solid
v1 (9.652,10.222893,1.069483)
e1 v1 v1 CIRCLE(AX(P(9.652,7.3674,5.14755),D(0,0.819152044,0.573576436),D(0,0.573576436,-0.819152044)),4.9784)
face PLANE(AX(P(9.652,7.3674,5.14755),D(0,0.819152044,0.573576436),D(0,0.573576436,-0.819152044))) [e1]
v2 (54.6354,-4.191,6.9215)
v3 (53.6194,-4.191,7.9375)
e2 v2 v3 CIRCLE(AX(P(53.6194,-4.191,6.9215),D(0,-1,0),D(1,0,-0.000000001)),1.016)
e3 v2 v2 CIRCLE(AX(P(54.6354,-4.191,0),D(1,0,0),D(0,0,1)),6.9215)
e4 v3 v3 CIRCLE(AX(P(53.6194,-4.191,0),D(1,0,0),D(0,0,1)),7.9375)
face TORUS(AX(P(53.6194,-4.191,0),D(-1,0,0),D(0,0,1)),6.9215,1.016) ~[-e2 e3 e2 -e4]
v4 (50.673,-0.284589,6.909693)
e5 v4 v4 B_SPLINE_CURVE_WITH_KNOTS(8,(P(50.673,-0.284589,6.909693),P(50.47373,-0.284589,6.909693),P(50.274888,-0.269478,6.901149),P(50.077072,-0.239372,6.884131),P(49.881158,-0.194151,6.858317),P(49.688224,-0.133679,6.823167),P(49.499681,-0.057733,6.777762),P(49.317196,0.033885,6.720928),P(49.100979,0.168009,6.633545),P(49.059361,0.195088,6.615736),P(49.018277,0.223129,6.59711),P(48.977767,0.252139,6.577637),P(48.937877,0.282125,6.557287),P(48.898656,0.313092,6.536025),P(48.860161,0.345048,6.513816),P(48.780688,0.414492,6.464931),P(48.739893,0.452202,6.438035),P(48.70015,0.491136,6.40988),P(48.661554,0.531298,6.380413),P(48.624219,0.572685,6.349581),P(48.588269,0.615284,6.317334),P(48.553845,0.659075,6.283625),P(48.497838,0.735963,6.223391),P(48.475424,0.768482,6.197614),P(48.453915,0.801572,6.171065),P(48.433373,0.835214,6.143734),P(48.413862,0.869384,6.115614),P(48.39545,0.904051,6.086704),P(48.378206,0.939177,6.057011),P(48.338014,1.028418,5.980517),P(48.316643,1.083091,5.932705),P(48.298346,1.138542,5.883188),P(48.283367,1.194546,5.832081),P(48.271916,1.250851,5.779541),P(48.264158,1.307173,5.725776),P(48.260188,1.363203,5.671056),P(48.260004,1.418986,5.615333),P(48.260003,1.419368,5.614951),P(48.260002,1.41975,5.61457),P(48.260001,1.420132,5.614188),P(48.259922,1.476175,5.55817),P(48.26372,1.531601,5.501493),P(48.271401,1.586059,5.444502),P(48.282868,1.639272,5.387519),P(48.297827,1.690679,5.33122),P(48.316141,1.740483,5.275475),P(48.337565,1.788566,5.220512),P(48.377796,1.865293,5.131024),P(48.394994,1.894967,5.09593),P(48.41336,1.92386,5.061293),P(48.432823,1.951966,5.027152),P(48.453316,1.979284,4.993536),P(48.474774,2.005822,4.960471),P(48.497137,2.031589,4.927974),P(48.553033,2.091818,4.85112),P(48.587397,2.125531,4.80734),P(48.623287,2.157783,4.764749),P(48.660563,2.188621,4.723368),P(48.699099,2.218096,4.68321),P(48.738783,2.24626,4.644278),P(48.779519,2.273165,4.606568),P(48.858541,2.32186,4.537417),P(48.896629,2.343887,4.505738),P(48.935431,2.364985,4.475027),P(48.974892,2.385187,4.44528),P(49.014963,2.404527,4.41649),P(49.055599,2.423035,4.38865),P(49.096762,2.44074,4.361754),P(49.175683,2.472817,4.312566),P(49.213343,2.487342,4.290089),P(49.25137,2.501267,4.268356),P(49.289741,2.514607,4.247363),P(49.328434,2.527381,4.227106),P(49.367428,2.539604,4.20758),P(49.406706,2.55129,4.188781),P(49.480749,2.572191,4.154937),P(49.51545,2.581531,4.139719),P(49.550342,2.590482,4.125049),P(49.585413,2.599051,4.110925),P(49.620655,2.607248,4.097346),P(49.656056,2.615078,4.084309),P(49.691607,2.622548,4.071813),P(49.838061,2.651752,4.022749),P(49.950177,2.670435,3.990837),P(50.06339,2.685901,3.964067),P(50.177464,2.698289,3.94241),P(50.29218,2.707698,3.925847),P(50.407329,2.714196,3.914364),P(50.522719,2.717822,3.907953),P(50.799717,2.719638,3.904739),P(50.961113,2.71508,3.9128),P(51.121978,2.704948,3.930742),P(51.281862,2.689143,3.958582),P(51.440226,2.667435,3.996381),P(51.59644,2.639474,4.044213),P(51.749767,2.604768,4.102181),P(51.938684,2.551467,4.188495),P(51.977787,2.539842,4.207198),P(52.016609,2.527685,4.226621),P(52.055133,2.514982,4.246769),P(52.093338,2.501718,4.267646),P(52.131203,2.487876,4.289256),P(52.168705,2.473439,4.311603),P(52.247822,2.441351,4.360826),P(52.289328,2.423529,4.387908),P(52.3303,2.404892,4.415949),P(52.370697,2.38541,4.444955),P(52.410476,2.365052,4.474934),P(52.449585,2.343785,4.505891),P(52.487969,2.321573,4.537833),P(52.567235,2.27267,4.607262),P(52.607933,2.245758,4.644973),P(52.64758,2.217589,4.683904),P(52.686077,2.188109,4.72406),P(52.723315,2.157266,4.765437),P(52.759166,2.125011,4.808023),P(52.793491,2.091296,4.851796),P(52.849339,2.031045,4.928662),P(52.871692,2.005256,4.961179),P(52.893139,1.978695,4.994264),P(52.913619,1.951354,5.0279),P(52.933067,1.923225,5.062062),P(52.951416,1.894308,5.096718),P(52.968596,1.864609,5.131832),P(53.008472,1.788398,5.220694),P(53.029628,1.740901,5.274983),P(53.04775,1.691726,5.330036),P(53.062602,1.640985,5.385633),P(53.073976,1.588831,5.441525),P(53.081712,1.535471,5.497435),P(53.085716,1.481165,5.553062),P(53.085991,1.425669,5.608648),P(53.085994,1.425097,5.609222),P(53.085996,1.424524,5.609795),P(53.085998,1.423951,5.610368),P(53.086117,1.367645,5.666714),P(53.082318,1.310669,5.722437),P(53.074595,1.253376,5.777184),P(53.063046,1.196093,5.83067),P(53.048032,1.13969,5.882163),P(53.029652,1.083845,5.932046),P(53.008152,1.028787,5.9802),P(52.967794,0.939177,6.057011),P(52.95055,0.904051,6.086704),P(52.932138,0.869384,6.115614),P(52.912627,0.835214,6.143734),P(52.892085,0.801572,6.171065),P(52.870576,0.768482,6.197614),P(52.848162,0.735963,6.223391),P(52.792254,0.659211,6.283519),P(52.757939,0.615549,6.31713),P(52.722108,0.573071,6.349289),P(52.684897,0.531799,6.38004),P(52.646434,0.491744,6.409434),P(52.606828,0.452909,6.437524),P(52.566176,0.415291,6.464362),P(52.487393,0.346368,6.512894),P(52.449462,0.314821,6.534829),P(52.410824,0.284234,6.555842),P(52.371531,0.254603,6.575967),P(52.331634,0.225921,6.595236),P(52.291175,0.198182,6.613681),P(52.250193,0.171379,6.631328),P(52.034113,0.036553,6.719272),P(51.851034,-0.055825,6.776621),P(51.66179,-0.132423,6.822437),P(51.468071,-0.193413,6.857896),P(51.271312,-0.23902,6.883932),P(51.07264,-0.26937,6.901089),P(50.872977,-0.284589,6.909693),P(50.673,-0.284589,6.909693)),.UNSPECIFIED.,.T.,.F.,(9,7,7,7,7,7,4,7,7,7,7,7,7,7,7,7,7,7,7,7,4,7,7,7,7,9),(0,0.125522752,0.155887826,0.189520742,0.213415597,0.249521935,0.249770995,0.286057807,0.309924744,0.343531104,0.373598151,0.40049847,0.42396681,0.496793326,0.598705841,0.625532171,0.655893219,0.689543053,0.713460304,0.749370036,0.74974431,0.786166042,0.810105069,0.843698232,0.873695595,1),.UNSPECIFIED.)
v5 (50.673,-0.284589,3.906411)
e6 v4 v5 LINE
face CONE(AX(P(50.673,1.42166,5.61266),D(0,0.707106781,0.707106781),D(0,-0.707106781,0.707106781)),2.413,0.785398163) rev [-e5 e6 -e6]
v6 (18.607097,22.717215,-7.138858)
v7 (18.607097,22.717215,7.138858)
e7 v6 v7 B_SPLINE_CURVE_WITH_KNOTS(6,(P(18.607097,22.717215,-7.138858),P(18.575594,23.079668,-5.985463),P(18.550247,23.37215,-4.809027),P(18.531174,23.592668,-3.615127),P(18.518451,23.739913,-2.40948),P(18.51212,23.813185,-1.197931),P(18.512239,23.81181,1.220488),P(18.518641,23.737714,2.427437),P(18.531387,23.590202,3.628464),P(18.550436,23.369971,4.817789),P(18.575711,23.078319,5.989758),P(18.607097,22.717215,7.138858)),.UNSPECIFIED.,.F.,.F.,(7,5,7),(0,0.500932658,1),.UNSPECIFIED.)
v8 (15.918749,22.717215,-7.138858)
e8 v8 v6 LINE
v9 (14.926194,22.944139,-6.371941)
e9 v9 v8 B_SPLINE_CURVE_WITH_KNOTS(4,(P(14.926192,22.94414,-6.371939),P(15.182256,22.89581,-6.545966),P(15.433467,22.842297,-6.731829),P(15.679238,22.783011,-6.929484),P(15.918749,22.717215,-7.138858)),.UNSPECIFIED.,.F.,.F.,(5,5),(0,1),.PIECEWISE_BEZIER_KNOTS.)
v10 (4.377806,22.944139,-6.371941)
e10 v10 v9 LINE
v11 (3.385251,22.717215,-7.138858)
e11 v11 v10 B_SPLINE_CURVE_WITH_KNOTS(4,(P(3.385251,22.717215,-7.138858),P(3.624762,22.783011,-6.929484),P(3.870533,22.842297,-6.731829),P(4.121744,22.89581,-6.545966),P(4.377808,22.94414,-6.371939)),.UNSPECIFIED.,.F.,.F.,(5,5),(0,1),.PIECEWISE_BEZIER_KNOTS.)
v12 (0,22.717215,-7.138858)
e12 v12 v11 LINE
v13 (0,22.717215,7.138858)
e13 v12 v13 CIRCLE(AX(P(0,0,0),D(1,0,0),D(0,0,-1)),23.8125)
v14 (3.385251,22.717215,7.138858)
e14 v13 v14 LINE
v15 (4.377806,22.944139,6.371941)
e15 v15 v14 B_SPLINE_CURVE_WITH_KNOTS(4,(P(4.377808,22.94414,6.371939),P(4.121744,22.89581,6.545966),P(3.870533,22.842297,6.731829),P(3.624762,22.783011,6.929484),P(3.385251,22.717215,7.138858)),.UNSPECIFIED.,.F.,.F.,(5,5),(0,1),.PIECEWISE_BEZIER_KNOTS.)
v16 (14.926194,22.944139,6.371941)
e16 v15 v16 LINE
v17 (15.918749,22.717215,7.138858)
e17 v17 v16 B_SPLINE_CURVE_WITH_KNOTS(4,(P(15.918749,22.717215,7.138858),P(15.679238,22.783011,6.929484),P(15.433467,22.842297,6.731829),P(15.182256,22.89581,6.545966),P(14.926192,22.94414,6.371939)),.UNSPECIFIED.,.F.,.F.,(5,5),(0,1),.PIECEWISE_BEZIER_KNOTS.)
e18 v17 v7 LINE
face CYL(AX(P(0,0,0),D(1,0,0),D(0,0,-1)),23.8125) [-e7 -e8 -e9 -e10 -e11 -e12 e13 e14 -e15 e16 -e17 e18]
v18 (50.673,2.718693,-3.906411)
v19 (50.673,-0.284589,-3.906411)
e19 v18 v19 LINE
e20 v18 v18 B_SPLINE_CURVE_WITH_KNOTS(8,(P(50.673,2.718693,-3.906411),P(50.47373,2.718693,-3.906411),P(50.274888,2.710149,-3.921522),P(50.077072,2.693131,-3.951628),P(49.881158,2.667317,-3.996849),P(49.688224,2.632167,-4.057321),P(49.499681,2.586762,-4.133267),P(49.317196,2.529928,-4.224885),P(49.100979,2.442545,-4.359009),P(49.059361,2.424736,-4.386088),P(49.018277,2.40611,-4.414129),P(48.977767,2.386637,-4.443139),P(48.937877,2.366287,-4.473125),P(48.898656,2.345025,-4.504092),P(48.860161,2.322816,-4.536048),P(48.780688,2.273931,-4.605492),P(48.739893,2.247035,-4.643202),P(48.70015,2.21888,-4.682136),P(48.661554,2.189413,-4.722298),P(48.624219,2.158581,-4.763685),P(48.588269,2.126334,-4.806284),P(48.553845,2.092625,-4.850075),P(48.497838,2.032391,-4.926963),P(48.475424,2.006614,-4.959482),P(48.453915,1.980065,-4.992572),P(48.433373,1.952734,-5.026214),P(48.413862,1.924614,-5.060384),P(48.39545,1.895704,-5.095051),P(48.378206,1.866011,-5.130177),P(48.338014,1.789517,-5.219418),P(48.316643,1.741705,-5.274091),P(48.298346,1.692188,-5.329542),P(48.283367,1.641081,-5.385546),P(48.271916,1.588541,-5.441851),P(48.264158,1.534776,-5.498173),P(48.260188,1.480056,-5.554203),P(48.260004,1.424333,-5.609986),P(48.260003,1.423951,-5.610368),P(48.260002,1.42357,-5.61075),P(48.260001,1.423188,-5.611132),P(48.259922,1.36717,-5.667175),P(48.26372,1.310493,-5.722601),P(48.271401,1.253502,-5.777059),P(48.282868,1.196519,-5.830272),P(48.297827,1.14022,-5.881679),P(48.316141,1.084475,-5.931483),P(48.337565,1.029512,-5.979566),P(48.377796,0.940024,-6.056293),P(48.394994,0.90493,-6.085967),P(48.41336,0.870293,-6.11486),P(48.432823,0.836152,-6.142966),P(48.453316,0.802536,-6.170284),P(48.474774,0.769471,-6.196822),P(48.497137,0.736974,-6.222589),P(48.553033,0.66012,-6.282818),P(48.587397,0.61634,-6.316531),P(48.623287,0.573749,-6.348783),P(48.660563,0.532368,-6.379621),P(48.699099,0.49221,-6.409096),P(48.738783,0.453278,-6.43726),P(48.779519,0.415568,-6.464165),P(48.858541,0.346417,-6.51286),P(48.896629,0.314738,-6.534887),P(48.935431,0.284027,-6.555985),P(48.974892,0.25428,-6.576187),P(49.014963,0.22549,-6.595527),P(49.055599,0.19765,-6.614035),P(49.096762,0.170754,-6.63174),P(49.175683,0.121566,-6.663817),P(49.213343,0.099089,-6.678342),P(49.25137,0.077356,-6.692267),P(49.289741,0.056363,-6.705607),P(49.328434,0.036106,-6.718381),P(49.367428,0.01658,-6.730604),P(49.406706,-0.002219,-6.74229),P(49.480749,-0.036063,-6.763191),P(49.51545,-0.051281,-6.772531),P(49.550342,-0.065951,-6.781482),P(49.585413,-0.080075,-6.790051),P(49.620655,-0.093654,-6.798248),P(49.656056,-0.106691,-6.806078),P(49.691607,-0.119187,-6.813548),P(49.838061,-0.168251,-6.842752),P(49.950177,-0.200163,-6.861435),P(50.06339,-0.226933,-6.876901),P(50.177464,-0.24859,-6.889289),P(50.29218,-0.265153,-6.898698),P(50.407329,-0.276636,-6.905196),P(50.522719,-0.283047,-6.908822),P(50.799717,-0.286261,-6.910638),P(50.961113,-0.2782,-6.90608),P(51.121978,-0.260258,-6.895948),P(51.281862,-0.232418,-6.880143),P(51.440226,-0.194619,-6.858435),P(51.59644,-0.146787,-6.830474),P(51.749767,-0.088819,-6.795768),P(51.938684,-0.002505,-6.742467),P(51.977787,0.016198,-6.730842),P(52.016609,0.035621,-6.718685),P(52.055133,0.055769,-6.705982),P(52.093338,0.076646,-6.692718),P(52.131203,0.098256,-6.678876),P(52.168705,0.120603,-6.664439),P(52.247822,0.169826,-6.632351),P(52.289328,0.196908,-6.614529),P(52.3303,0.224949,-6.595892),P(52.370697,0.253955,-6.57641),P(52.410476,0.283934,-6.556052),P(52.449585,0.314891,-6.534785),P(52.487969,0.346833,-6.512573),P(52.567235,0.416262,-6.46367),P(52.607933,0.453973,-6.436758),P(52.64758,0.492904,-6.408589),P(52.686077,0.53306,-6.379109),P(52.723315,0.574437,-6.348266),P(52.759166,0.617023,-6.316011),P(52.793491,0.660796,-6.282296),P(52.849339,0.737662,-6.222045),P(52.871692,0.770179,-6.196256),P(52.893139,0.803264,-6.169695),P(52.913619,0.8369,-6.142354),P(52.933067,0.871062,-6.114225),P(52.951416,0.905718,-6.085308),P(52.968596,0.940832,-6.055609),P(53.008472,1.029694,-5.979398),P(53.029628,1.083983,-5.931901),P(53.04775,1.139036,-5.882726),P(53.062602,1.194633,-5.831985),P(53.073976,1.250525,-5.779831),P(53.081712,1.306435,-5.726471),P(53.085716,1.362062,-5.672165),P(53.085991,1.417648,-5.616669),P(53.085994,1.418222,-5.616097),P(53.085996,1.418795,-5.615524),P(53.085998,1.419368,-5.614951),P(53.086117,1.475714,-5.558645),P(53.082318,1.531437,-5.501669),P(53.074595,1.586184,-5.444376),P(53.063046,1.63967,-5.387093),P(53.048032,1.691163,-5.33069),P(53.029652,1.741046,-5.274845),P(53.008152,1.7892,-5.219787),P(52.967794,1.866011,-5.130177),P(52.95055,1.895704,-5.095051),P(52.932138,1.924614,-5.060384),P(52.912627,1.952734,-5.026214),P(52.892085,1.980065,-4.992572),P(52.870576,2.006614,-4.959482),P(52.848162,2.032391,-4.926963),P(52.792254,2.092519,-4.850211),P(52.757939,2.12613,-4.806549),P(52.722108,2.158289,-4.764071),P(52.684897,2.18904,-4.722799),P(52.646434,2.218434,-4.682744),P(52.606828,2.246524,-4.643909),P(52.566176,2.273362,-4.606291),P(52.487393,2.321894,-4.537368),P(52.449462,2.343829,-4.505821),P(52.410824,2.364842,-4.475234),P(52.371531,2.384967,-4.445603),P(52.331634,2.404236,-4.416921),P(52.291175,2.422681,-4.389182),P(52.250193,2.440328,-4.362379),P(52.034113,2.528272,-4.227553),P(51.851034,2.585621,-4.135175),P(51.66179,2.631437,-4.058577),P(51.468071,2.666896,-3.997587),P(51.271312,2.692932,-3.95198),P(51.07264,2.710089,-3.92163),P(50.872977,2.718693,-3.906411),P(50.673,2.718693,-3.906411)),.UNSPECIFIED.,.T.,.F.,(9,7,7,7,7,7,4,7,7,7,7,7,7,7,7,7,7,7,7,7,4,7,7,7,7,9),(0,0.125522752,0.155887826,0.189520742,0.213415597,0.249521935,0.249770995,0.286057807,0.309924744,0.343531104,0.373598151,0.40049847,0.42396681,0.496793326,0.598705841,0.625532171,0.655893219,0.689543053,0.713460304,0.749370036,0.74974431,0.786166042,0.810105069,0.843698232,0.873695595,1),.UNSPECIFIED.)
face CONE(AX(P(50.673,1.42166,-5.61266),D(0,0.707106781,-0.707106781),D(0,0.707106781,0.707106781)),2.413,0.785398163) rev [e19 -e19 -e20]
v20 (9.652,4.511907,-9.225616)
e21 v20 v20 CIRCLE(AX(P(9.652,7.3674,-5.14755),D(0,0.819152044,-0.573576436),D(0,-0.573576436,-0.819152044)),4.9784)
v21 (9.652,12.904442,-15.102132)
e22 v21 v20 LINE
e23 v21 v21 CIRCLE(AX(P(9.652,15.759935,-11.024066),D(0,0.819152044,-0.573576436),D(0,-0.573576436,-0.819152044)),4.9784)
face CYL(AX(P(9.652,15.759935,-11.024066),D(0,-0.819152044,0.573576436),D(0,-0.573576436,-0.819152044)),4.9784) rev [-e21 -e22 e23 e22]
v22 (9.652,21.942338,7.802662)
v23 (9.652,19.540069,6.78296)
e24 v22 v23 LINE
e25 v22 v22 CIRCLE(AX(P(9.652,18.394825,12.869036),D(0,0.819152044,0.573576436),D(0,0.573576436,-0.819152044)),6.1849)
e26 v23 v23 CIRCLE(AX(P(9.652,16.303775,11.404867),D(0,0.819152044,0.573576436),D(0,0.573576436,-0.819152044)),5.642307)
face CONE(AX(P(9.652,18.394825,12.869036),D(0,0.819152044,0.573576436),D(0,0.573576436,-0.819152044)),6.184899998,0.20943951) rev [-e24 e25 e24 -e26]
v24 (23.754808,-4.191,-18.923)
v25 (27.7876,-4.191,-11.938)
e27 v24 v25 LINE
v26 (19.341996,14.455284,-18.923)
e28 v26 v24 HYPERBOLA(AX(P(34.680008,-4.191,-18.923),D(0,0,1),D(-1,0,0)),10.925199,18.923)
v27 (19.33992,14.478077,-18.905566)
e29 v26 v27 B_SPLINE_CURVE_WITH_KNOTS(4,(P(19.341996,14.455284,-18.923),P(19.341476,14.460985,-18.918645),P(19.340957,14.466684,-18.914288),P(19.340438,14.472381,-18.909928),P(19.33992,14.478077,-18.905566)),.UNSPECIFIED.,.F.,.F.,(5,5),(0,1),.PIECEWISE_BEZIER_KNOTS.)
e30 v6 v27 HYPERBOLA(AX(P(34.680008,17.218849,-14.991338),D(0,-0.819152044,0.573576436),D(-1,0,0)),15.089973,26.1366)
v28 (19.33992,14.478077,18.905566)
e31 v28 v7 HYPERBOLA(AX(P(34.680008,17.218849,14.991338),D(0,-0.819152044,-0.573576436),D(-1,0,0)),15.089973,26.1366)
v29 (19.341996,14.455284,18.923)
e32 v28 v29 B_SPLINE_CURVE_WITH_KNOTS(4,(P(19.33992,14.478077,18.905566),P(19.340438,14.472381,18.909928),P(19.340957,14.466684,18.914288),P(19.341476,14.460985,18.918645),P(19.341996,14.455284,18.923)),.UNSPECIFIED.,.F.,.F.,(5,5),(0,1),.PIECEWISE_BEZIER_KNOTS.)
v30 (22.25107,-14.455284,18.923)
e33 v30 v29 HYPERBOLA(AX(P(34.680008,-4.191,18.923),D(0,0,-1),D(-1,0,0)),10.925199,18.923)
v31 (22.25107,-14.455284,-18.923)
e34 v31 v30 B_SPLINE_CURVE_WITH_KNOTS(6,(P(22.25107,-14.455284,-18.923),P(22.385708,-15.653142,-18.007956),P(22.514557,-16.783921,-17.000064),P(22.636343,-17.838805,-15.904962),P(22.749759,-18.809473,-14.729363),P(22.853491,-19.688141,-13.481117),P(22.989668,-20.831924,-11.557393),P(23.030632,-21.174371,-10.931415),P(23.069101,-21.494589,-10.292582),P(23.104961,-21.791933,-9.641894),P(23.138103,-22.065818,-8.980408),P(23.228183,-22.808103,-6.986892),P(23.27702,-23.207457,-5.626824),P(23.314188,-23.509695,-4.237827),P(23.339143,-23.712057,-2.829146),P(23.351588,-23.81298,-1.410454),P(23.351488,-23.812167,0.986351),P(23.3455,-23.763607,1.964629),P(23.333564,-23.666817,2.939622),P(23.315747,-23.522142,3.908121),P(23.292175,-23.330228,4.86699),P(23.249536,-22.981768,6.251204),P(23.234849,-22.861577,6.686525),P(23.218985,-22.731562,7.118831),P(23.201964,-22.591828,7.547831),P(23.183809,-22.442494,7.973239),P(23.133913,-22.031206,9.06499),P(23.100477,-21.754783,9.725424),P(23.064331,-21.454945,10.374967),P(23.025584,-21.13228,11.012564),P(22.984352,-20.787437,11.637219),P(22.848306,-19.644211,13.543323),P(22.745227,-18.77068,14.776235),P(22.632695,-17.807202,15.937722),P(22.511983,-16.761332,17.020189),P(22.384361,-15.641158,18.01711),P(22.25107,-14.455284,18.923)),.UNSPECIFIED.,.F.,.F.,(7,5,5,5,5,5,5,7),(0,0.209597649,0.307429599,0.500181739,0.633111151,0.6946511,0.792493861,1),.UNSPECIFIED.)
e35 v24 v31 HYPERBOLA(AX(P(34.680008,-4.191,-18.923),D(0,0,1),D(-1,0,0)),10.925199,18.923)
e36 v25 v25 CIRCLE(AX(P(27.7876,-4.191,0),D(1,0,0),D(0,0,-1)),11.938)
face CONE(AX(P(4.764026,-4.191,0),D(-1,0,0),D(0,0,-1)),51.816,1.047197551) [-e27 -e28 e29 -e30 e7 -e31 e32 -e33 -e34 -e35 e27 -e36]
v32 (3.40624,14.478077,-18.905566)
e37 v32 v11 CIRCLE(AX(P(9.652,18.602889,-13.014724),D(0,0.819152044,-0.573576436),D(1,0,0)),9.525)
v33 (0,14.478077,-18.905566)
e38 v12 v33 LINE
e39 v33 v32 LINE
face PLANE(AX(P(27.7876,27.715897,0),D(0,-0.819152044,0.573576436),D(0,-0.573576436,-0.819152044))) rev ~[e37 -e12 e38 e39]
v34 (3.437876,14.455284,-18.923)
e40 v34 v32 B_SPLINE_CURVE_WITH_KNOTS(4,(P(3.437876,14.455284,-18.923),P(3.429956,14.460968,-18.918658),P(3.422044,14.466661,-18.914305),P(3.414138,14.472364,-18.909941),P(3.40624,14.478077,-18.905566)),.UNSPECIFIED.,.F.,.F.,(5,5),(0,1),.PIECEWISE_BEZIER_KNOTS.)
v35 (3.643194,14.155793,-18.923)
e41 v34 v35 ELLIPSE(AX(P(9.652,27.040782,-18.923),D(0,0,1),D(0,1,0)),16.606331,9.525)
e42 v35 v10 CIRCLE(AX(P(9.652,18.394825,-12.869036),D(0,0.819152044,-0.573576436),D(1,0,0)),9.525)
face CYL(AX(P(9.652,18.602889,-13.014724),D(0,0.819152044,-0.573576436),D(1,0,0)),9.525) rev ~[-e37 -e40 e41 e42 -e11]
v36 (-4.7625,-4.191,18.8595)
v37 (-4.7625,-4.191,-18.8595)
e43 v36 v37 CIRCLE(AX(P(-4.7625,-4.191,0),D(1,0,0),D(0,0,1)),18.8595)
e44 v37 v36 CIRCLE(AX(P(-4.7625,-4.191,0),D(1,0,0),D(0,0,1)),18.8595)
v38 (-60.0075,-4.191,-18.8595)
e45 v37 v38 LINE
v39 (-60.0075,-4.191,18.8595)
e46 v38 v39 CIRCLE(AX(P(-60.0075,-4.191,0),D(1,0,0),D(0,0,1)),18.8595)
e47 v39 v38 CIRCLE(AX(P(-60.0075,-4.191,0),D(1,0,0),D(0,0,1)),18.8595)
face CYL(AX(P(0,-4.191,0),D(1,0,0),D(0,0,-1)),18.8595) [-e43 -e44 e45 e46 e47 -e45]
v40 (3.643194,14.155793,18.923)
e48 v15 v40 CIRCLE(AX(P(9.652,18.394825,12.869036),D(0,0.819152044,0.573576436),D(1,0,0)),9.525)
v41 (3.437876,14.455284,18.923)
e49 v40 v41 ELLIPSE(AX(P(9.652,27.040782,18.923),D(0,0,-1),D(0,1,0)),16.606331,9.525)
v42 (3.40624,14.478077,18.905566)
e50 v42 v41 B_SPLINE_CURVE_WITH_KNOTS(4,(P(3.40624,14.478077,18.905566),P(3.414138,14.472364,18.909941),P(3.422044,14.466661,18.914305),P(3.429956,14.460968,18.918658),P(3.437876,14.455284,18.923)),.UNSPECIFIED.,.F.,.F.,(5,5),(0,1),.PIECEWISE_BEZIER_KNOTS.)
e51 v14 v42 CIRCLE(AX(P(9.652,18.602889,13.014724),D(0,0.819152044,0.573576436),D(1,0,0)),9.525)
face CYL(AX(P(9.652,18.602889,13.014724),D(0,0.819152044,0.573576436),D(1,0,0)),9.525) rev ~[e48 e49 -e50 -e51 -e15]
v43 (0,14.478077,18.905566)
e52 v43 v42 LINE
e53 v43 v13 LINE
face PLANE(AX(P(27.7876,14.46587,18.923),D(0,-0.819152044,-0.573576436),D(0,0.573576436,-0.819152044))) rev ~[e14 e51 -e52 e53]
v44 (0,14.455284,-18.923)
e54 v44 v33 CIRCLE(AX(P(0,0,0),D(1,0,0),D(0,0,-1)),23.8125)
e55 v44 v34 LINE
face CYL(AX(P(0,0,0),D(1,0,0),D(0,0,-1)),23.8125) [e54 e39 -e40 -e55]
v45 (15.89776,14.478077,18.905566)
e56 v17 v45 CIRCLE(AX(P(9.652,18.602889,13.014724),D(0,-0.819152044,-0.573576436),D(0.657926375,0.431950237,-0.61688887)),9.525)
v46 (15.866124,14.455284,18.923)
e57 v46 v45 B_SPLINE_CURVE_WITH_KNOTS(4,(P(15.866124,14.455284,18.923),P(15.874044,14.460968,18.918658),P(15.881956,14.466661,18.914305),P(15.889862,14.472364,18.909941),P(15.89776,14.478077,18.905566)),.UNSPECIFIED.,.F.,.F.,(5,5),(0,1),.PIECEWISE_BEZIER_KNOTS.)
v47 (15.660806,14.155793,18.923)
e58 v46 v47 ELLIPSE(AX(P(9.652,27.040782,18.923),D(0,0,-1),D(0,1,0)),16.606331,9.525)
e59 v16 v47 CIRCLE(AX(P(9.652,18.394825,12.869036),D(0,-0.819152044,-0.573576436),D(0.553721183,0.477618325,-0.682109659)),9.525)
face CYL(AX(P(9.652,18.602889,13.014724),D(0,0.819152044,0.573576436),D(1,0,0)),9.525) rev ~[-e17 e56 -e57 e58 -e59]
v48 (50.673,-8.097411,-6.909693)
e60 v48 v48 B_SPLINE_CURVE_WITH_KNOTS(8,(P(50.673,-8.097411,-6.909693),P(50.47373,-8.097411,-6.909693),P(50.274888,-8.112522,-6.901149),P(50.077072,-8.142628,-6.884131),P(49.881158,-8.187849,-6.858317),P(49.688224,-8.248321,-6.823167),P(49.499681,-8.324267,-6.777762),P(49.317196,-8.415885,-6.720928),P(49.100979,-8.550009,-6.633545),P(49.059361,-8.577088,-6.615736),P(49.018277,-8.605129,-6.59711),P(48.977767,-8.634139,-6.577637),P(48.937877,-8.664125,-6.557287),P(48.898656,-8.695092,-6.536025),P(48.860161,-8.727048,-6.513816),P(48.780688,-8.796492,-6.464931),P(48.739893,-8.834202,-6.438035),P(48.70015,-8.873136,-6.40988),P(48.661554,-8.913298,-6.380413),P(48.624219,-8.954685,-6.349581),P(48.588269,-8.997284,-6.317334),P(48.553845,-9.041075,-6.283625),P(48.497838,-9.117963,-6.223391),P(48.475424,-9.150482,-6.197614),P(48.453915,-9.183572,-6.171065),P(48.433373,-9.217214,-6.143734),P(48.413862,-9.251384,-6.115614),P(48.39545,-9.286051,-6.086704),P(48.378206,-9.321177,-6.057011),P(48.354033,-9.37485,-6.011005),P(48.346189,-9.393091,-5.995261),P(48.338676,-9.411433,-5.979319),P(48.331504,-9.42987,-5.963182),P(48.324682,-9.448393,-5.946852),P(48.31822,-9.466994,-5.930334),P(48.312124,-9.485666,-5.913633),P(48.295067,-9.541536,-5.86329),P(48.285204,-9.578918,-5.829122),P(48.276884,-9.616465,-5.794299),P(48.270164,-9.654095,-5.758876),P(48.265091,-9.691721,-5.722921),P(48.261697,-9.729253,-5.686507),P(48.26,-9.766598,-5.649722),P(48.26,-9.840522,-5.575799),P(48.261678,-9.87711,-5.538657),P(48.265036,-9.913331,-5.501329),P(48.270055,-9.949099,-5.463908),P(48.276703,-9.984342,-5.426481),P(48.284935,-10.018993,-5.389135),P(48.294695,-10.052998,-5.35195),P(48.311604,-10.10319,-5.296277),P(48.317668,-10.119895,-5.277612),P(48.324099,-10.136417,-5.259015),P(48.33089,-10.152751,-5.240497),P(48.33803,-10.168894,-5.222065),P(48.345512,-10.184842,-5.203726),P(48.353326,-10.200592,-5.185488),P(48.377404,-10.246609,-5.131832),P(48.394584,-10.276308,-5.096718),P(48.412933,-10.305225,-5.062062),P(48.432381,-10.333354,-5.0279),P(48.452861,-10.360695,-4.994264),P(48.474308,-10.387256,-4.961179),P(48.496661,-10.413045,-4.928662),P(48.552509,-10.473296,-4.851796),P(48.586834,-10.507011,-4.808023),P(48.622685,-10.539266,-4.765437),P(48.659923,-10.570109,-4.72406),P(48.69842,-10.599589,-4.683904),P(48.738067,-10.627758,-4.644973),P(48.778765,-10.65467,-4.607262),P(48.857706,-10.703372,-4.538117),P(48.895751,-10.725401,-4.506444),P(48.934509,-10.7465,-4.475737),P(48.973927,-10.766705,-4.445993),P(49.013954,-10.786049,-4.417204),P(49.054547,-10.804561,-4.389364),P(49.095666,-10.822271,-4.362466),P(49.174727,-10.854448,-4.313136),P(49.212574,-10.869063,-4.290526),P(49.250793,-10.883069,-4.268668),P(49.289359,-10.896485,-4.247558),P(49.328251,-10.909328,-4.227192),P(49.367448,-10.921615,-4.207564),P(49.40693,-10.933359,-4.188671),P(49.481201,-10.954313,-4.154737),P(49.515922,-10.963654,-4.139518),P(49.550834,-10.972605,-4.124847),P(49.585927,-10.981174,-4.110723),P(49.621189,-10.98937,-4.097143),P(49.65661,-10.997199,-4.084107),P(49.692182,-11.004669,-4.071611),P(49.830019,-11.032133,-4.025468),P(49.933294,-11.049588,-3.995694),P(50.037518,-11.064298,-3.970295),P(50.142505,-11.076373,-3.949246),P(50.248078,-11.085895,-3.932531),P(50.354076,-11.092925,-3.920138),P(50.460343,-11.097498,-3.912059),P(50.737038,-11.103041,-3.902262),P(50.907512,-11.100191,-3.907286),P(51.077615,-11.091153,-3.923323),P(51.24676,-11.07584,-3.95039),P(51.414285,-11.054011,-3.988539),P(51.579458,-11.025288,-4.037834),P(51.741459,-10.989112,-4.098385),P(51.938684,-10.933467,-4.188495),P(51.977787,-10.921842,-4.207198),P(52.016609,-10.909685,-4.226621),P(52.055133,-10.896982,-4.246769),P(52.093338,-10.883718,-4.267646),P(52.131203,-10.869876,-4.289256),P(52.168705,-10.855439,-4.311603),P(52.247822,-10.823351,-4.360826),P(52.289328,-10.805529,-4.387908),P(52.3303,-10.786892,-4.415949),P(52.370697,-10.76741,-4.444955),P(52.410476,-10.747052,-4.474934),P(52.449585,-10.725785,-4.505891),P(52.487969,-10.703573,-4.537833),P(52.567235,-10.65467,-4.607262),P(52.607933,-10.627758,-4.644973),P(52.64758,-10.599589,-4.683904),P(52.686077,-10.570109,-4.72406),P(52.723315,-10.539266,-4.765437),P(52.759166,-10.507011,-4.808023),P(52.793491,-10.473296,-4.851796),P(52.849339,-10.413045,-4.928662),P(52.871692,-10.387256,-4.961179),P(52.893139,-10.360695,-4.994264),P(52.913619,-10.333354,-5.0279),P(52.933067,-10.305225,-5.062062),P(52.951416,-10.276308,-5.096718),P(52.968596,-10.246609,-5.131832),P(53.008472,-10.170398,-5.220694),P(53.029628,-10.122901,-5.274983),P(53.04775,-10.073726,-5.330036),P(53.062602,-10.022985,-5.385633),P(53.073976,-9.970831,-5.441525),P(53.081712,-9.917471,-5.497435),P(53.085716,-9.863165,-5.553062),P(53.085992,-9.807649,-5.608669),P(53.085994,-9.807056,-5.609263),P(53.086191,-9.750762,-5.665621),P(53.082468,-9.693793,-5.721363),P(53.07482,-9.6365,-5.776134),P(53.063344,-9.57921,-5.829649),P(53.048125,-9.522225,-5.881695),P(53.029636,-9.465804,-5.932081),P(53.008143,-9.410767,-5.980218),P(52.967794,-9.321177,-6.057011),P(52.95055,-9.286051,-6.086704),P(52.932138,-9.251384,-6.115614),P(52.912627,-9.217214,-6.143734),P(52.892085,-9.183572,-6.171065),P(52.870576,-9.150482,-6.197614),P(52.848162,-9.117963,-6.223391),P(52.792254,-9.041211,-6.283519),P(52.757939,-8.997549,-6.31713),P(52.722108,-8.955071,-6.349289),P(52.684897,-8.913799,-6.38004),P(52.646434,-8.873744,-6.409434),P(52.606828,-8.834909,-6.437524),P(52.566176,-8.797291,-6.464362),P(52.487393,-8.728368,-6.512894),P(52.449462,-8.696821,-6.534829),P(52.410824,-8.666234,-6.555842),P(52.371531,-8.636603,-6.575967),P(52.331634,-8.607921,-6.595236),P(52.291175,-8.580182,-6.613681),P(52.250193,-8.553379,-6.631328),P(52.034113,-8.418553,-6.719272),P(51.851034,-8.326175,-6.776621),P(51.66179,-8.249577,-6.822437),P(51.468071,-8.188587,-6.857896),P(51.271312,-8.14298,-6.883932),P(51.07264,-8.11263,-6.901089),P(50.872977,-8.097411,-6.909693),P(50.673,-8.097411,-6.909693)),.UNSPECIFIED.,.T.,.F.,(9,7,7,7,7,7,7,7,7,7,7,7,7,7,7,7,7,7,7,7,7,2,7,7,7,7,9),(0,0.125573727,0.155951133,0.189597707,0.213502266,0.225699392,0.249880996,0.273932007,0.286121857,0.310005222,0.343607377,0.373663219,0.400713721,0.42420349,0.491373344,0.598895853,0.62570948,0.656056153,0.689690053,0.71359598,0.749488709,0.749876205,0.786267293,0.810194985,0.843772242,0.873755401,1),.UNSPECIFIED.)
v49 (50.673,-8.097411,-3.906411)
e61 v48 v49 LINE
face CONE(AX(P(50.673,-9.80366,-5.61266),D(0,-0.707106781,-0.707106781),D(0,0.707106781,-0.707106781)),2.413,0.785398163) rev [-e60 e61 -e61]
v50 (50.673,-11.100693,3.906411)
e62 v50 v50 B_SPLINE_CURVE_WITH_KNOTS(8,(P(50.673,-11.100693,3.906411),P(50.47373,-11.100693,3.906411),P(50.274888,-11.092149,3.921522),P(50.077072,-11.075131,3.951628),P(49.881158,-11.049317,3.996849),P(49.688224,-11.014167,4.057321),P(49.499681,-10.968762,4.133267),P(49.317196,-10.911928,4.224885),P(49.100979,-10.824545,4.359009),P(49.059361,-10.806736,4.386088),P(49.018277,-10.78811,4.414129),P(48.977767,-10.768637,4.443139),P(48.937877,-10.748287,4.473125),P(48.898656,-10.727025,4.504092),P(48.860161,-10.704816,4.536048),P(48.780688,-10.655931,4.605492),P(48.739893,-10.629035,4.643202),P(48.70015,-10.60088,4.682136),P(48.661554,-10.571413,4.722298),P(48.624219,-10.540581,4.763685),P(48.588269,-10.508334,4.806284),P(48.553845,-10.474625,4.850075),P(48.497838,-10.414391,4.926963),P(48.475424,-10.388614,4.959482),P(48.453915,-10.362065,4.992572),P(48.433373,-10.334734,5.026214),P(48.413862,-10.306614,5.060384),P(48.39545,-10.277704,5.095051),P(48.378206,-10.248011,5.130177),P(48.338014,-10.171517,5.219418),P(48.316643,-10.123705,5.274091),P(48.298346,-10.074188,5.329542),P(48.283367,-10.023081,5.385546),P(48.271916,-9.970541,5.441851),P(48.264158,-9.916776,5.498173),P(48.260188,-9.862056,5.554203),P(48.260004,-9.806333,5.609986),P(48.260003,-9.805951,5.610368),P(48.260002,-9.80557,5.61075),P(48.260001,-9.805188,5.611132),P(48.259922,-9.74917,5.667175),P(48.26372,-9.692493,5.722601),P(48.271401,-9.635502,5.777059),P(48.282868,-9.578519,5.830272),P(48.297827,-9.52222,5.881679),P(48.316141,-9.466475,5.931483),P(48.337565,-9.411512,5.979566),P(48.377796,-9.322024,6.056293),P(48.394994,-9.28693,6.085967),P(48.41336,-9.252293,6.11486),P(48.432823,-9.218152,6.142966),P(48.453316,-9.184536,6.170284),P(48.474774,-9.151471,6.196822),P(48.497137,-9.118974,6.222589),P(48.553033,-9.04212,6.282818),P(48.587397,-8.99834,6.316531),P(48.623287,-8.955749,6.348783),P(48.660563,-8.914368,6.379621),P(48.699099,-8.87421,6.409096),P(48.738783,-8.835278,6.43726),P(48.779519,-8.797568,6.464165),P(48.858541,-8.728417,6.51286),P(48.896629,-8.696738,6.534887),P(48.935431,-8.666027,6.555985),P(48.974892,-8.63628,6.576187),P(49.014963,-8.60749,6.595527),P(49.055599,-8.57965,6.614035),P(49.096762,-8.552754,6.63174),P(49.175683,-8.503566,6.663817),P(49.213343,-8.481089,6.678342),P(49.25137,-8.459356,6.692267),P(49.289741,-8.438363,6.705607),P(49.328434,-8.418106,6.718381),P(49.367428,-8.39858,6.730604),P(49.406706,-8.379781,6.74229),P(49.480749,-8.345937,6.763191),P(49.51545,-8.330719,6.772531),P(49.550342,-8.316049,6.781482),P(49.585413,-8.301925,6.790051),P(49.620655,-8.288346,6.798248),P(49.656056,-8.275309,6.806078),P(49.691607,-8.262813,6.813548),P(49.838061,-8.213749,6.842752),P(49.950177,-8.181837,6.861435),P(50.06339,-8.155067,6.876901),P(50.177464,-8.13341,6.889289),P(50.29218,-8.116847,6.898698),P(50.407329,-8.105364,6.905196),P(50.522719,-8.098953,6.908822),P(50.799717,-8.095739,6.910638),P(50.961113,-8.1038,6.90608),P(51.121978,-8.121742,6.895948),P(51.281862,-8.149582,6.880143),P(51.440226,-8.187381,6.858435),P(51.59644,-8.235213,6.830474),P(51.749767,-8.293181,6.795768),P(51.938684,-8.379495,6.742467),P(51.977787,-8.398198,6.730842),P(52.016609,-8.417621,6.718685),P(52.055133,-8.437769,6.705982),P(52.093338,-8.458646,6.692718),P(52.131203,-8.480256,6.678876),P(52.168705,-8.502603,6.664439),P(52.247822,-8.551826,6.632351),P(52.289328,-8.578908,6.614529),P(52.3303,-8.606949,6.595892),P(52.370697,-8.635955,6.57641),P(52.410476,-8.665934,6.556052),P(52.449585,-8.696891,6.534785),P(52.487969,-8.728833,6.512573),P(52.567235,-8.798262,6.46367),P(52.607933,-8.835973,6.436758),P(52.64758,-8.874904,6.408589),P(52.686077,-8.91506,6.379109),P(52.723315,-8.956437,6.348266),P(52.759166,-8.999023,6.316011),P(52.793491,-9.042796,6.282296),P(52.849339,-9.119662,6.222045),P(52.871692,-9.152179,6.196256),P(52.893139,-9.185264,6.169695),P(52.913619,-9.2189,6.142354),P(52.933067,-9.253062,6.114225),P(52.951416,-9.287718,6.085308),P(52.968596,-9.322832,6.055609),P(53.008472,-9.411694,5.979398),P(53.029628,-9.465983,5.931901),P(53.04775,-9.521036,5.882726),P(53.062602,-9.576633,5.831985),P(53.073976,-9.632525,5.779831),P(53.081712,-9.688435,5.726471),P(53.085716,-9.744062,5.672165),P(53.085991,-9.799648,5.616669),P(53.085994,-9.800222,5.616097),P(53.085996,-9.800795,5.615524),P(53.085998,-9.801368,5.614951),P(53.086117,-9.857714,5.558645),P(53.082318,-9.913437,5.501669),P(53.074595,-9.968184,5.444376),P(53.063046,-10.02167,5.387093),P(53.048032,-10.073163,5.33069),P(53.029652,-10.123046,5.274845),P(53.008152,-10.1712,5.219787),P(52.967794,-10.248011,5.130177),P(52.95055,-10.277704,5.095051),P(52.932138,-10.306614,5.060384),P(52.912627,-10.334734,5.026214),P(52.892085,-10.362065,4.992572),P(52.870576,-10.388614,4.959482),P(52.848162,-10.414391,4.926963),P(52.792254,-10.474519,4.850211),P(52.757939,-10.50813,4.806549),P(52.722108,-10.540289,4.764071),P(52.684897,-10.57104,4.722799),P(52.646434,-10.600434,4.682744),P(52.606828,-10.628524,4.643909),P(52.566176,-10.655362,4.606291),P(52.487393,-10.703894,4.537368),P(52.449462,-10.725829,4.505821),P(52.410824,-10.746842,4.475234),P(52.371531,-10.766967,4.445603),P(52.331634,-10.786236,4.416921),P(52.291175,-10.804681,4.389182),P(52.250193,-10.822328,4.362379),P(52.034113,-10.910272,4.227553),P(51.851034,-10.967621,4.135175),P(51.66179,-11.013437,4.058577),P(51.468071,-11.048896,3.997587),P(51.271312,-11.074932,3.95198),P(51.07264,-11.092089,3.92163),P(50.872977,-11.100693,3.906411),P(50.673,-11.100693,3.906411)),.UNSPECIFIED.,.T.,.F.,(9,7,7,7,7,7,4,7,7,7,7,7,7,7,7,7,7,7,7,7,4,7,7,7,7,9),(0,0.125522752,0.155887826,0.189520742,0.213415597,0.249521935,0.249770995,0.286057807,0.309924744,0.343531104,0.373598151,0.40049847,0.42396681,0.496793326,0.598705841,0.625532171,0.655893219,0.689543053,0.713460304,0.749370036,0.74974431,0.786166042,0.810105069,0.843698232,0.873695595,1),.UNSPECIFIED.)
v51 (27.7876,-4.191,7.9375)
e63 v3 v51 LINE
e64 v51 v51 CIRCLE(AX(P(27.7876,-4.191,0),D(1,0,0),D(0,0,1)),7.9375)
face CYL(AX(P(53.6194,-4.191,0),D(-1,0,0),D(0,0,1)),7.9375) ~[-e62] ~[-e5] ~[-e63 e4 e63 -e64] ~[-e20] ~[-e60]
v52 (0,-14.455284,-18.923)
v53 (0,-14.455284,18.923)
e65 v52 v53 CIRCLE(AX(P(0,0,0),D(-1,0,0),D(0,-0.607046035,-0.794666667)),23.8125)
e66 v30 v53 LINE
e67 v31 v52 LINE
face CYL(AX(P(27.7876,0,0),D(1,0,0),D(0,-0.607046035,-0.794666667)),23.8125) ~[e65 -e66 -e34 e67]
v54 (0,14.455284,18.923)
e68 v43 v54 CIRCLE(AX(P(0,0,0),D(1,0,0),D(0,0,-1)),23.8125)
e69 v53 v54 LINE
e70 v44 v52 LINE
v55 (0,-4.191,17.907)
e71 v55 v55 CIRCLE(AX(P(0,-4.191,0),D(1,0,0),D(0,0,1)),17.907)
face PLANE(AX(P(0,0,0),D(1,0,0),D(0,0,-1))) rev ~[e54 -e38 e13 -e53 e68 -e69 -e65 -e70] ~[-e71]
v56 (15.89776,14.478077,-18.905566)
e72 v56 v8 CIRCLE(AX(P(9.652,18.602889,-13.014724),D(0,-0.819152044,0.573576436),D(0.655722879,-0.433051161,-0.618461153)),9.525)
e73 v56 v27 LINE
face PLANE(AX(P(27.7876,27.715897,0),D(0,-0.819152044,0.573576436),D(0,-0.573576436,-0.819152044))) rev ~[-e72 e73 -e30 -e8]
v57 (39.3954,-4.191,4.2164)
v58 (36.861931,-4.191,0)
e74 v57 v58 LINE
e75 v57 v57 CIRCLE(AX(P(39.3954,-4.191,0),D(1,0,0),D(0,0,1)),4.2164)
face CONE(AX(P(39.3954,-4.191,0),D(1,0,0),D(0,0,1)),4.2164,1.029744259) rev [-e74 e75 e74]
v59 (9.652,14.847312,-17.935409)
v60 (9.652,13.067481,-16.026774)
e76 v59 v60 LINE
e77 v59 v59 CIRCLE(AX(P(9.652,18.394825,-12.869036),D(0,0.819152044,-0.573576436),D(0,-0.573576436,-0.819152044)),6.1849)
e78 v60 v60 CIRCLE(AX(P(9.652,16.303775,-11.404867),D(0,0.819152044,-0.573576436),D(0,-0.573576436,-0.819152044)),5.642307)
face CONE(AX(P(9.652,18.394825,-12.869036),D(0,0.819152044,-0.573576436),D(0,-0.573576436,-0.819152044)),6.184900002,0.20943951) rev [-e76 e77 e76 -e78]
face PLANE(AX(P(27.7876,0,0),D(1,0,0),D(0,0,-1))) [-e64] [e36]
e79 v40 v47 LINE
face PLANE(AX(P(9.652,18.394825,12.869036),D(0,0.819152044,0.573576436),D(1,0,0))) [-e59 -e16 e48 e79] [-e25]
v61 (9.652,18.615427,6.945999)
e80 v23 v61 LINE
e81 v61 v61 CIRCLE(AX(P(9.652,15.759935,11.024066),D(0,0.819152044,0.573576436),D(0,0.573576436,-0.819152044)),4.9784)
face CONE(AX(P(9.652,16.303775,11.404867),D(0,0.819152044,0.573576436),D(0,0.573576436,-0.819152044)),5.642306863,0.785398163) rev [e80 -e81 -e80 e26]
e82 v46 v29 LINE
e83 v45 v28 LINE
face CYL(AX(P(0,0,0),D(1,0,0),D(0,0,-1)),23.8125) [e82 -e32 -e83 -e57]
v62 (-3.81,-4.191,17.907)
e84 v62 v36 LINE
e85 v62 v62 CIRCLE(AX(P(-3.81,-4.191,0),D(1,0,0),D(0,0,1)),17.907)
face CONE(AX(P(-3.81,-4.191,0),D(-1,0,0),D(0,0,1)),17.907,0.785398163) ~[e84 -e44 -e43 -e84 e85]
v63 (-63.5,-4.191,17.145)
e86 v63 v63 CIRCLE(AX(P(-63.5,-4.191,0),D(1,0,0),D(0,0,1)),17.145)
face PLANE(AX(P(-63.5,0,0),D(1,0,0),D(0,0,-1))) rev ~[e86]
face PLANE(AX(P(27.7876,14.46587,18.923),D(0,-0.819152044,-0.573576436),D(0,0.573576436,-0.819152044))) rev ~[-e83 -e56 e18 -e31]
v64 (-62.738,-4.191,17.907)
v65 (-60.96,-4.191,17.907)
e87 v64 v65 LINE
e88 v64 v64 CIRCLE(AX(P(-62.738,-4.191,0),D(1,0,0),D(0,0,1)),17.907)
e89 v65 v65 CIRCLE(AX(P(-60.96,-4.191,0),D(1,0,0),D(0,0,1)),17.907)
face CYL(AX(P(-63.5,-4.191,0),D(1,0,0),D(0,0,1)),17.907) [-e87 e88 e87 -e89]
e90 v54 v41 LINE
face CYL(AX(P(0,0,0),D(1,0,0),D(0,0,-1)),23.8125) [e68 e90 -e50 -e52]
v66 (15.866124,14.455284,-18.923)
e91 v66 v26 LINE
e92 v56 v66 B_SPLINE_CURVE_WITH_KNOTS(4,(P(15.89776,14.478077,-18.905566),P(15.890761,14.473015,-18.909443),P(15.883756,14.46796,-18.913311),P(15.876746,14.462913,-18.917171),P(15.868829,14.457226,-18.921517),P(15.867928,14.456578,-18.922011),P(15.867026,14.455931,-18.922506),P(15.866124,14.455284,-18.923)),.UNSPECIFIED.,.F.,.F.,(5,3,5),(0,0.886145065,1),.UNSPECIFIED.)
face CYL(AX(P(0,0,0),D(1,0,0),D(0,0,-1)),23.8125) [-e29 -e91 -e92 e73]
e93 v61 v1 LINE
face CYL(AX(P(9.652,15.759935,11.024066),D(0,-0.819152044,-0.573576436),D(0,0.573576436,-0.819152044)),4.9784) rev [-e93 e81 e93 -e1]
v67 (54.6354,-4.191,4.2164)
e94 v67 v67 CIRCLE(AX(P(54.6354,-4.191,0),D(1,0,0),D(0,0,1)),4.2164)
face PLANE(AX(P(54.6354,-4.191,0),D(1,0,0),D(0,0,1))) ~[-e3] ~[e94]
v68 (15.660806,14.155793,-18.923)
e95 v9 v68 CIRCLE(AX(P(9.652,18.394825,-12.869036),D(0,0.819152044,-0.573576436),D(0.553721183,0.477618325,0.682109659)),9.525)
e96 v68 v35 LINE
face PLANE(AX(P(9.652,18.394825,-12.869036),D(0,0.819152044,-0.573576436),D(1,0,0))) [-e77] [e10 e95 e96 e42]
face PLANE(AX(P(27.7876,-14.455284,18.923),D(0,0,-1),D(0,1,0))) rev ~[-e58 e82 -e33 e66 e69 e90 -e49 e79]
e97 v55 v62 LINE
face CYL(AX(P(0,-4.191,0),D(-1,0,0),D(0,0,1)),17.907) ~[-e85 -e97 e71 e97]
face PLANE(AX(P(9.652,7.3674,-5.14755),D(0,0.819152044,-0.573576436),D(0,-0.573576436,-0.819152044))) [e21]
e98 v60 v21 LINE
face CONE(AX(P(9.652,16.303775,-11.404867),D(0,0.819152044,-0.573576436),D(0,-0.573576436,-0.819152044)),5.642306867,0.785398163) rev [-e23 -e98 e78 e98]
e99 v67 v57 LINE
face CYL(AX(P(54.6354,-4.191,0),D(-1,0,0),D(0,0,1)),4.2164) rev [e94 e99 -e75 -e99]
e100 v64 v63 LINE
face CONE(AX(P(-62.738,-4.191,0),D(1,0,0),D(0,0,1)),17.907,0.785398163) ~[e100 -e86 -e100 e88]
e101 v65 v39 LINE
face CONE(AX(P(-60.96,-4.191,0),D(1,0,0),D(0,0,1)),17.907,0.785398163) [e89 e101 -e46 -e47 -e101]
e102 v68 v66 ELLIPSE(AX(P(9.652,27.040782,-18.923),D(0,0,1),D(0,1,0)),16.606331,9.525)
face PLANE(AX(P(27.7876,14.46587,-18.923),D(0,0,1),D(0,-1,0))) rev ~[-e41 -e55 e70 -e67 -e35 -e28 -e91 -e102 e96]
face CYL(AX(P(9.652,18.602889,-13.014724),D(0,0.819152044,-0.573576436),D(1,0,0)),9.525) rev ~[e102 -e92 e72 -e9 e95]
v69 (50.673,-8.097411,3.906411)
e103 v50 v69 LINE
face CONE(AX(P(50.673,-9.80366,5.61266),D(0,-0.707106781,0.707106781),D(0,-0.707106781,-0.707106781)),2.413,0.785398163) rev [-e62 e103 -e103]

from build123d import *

# Parameters (mm, degrees)
SKETCH1_R           = 23.8125
EXTRUDE1_DEPTH      = 27.7876
EXTRUDE1_DEPTH_BACK = 63.5
CUT_EXTRUDE1_REACH  = 65.5
SKETCH2_R           = 23.8125
SKETCH2_R_2         = 18.8595
CUT_EXTRUDE3_START  = -27.7876
SKETCH4_R           = 28.575
CUT_EXTRUDE3_DEPTH  = 27.7876
SKETCH18_R          = 9.525
CUT_EXTRUDE4_DEPTH  = 0.254
SKETCH19_R          = 9.525
CUT_EXTRUDE5_DEPTH  = 0.254
CHAMFER1_SIZE       = 0.762
CIRPATTERN1_COUNT   = 4


with BuildPart() as part:
    # Sketch1 → Extrude1 (new body, two sides)
    with BuildSketch(Plane(origin=(0, 0, 0), x_dir=(0, 0, -1), z_dir=(1, 0, 0))) as extrude1_sk:
        Circle(SKETCH1_R)
    extrude(amount=EXTRUDE1_DEPTH)
    extrude(extrude1_sk.sketch, amount=-EXTRUDE1_DEPTH_BACK)

    # Sketch2 → Cut-Extrude1 (cut, up to next)
    with BuildSketch(Plane(origin=(0, 0, 0), x_dir=(0, 0, -1), z_dir=(1, 0, 0)), mode=Mode.PRIVATE) as cut_extrude1_sk1:
        Circle(SKETCH2_R)
        with Locations((0, -4.191)):
            Circle(SKETCH2_R_2, mode=Mode.SUBTRACT)
    cut_extrude1_tool1 = extrude(cut_extrude1_sk1.sketch, amount=-CUT_EXTRUDE1_REACH, mode=Mode.PRIVATE) & part.part
    add(cut_extrude1_tool1.solids().sort_by_distance((0, 0, 23.138981))[0], mode=Mode.SUBTRACT)

    # Sketch4 → Cut-Extrude3 (cut)
    with BuildSketch(Plane.ZY.offset(CUT_EXTRUDE3_START)):
        Circle(SKETCH4_R)
        with BuildLine():
            Line((18.923, -14.455283714), (18.923, 14.465869871))
            Line((18.923, 14.465869871), (0, 27.715897117))
            Line((0, 27.715897117), (-18.923, 14.465869871))
            Line((-18.923, 14.465869871), (-18.923, -14.455283714))
            ThreePointArc((-18.923, -14.455283714), (0, -23.8125), (18.923, -14.455283714))
        make_face(mode=Mode.SUBTRACT)
    extrude(amount=CUT_EXTRUDE3_DEPTH, mode=Mode.SUBTRACT)

    # Sketch6 → Cut-Revolve2 (revolve, cut)
    with BuildSketch(Plane.XY, mode=Mode.PRIVATE) as cut_revolve2_sk:
        Polygon((4.764025965, 47.625), (27.7876, 7.747), (27.7876, 47.625), align=None)
    revolve(cut_revolve2_sk.sketch.rotate(Axis((3.612847264, -4.191, 0), (1, 0, 0)), 270), axis=Axis((3.612847264, -4.191, 0), (1, 0, 0)), mode=Mode.SUBTRACT)  # turned: the seam where the file's is

    # S2D0002 → Cut-Revolve3 (revolve, cut)
    with BuildSketch(Plane(origin=(9.652, 18.394824642, 12.869035589), x_dir=(0, 0.573576436, -0.819152044), z_dir=(1, 0, 0))):
        Polygon((0, 0), (6.1849, 0), (5.642306865, -2.5527), (4.9784, -3.216606865), (4.9784, -13.462), (0, -13.462), align=None)
    revolve(axis=Axis((9.652, 6.816028581, 4.761475303), (0, 0.819152044, 0.573576436)), mode=Mode.SUBTRACT)

    # Sketch8 → Cut-Revolve4 (revolve, cut)
    with BuildSketch(Plane(origin=(9.652, 18.394824642, -12.869035589), x_dir=(0, -0.573576436, -0.819152044), z_dir=(1, 0, 0))):
        Polygon((0, 0), (6.1849, 0), (5.642306865, -2.5527), (4.9784, -3.216606865), (4.9784, -13.462), (0, -13.462), align=None)
    revolve(axis=Axis((9.652, 6.816028581, -4.761475303), (0, 0.819152044, -0.573576436)), mode=Mode.SUBTRACT)

    # Sketch18 → Cut-Extrude4 (cut)
    with BuildSketch(Plane(origin=(0, 18.59764611, 13.022211999), x_dir=(1, 0, 0), z_dir=(0, 0.819152044, 0.573576436))):
        with Locations((9.652, 0.009141155)):
            Circle(SKETCH18_R)
    extrude(amount=-CUT_EXTRUDE4_DEPTH, mode=Mode.SUBTRACT)

    # Sketch19 → Cut-Extrude5 (cut)
    with BuildSketch(Plane(origin=(0, 18.59764611, -13.022211999), x_dir=(1, 0, 0), z_dir=(0, 0.819152044, -0.573576436))):
        with Locations((9.652, -0.009141155)):
            Circle(SKETCH19_R)
    extrude(amount=-CUT_EXTRUDE5_DEPTH, mode=Mode.SUBTRACT)

    # Sketch10 → Cut-Revolve6 (revolve, cut)
    with BuildSketch(Plane.XY, mode=Mode.PRIVATE) as cut_revolve6_sk:
        Polygon((0, 14.6685), (0, 13.716), (-3.81, 13.716), (-4.7625, 14.6685), align=None)
    revolve(cut_revolve6_sk.sketch.rotate(Axis((-5.000625, -4.191, 0), (1, 0, 0)), 90), axis=Axis((-5.000625, -4.191, 0), (1, 0, 0)), mode=Mode.SUBTRACT)  # turned: the seam where the file's is

    # Sketch12 → Cut-Revolve8 (revolve, cut)
    with BuildSketch(Plane.XY, mode=Mode.PRIVATE) as cut_revolve8_sk:
        Polygon((-63.5, 14.6685), (-63.5, 13.716), (-60.96, 13.716), (-60.0075, 14.6685), align=None)
    revolve(cut_revolve8_sk.sketch.rotate(Axis((-63.674625, -4.191, 0), (1, 0, 0)), 90), axis=Axis((-63.674625, -4.191, 0), (1, 0, 0)), mode=Mode.SUBTRACT)  # turned: the seam where the file's is

    # Chamfer1
    chamfer1_edges = [part.edges().sort_by_distance(p)[0] for p in [
        (-63.5, -4.191, -17.907),
    ]]
    chamfer(chamfer1_edges, length=CHAMFER1_SIZE)

    # Sketch13 → Revolve1 (revolve)
    with BuildSketch(Plane(origin=(0, 0, 0), x_dir=(0, -1, 0), z_dir=(0, 0, 1)), mode=Mode.PRIVATE) as revolve1_sk:
        with BuildLine():
            Line((4.191, 27.7876), (4.191, 54.6354))
            Line((4.191, 54.6354), (11.1125, 54.6354))
            ThreePointArc((11.1125, 54.6354), (11.83092049, 54.33782049), (12.1285, 53.6194))
            Line((12.1285, 53.6194), (12.1285, 27.7876))
            Line((12.1285, 27.7876), (4.191, 27.7876))
        make_face()
    revolve(revolve1_sk.sketch.rotate(Axis((26.44521, -4.191, 0), (1, 0, 0)), 270), axis=Axis((26.44521, -4.191, 0), (1, 0, 0)))  # turned: the seam where the file's is

    # S2D0001 → Cut-Revolve9 (revolve, cut)
    with BuildSketch(Plane(origin=(54.6354, -8.4074, 0), x_dir=(0, -1, 0), z_dir=(0, 0, 1)), mode=Mode.PRIVATE) as cut_revolve9_sk:
        Polygon((0, 0), (0, -15.24), (-4.2164, -17.773468714), (-4.2164, 0), align=None)
    revolve(cut_revolve9_sk.sketch.rotate(Axis((35.97325785, -4.191, 0), (1, 0, 0)), 270), axis=Axis((35.97325785, -4.191, 0), (1, 0, 0)), mode=Mode.SUBTRACT)  # turned: the seam where the file's is

    # Sketch16 → Cut-Revolve10 (revolve, cut)
    with BuildSketch(Plane(origin=(50.673, 1.421660076, -5.612660076), x_dir=(-1, 0, 0), z_dir=(0, -0.707106781, -0.707106781)), mode=Mode.PRIVATE) as cut_revolve10_sk:
        Polygon((0, 0), (2.413, 0), (0, -2.413), align=None)
    cut_revolve10 = revolve(cut_revolve10_sk.sketch.rotate(Axis((50.673, -2.1640922, -2.0269078), (0, 0.707106781, -0.707106781)), 90), axis=Axis((50.673, -2.1640922, -2.0269078), (0, 0.707106781, -0.707106781)), mode=Mode.SUBTRACT)  # turned: the seam where the file's is

    # CirPattern1: Cut-Revolve10 ×4 about axis
    cirpattern1_axis = Axis((26.44521, -4.191, 0), (-1, 0, 0))
    for i in range(1, CIRPATTERN1_COUNT):
        add(cut_revolve10.rotate(cirpattern1_axis, i * 360 / CIRPATTERN1_COUNT), mode=Mode.SUBTRACT)


solid = part.part
